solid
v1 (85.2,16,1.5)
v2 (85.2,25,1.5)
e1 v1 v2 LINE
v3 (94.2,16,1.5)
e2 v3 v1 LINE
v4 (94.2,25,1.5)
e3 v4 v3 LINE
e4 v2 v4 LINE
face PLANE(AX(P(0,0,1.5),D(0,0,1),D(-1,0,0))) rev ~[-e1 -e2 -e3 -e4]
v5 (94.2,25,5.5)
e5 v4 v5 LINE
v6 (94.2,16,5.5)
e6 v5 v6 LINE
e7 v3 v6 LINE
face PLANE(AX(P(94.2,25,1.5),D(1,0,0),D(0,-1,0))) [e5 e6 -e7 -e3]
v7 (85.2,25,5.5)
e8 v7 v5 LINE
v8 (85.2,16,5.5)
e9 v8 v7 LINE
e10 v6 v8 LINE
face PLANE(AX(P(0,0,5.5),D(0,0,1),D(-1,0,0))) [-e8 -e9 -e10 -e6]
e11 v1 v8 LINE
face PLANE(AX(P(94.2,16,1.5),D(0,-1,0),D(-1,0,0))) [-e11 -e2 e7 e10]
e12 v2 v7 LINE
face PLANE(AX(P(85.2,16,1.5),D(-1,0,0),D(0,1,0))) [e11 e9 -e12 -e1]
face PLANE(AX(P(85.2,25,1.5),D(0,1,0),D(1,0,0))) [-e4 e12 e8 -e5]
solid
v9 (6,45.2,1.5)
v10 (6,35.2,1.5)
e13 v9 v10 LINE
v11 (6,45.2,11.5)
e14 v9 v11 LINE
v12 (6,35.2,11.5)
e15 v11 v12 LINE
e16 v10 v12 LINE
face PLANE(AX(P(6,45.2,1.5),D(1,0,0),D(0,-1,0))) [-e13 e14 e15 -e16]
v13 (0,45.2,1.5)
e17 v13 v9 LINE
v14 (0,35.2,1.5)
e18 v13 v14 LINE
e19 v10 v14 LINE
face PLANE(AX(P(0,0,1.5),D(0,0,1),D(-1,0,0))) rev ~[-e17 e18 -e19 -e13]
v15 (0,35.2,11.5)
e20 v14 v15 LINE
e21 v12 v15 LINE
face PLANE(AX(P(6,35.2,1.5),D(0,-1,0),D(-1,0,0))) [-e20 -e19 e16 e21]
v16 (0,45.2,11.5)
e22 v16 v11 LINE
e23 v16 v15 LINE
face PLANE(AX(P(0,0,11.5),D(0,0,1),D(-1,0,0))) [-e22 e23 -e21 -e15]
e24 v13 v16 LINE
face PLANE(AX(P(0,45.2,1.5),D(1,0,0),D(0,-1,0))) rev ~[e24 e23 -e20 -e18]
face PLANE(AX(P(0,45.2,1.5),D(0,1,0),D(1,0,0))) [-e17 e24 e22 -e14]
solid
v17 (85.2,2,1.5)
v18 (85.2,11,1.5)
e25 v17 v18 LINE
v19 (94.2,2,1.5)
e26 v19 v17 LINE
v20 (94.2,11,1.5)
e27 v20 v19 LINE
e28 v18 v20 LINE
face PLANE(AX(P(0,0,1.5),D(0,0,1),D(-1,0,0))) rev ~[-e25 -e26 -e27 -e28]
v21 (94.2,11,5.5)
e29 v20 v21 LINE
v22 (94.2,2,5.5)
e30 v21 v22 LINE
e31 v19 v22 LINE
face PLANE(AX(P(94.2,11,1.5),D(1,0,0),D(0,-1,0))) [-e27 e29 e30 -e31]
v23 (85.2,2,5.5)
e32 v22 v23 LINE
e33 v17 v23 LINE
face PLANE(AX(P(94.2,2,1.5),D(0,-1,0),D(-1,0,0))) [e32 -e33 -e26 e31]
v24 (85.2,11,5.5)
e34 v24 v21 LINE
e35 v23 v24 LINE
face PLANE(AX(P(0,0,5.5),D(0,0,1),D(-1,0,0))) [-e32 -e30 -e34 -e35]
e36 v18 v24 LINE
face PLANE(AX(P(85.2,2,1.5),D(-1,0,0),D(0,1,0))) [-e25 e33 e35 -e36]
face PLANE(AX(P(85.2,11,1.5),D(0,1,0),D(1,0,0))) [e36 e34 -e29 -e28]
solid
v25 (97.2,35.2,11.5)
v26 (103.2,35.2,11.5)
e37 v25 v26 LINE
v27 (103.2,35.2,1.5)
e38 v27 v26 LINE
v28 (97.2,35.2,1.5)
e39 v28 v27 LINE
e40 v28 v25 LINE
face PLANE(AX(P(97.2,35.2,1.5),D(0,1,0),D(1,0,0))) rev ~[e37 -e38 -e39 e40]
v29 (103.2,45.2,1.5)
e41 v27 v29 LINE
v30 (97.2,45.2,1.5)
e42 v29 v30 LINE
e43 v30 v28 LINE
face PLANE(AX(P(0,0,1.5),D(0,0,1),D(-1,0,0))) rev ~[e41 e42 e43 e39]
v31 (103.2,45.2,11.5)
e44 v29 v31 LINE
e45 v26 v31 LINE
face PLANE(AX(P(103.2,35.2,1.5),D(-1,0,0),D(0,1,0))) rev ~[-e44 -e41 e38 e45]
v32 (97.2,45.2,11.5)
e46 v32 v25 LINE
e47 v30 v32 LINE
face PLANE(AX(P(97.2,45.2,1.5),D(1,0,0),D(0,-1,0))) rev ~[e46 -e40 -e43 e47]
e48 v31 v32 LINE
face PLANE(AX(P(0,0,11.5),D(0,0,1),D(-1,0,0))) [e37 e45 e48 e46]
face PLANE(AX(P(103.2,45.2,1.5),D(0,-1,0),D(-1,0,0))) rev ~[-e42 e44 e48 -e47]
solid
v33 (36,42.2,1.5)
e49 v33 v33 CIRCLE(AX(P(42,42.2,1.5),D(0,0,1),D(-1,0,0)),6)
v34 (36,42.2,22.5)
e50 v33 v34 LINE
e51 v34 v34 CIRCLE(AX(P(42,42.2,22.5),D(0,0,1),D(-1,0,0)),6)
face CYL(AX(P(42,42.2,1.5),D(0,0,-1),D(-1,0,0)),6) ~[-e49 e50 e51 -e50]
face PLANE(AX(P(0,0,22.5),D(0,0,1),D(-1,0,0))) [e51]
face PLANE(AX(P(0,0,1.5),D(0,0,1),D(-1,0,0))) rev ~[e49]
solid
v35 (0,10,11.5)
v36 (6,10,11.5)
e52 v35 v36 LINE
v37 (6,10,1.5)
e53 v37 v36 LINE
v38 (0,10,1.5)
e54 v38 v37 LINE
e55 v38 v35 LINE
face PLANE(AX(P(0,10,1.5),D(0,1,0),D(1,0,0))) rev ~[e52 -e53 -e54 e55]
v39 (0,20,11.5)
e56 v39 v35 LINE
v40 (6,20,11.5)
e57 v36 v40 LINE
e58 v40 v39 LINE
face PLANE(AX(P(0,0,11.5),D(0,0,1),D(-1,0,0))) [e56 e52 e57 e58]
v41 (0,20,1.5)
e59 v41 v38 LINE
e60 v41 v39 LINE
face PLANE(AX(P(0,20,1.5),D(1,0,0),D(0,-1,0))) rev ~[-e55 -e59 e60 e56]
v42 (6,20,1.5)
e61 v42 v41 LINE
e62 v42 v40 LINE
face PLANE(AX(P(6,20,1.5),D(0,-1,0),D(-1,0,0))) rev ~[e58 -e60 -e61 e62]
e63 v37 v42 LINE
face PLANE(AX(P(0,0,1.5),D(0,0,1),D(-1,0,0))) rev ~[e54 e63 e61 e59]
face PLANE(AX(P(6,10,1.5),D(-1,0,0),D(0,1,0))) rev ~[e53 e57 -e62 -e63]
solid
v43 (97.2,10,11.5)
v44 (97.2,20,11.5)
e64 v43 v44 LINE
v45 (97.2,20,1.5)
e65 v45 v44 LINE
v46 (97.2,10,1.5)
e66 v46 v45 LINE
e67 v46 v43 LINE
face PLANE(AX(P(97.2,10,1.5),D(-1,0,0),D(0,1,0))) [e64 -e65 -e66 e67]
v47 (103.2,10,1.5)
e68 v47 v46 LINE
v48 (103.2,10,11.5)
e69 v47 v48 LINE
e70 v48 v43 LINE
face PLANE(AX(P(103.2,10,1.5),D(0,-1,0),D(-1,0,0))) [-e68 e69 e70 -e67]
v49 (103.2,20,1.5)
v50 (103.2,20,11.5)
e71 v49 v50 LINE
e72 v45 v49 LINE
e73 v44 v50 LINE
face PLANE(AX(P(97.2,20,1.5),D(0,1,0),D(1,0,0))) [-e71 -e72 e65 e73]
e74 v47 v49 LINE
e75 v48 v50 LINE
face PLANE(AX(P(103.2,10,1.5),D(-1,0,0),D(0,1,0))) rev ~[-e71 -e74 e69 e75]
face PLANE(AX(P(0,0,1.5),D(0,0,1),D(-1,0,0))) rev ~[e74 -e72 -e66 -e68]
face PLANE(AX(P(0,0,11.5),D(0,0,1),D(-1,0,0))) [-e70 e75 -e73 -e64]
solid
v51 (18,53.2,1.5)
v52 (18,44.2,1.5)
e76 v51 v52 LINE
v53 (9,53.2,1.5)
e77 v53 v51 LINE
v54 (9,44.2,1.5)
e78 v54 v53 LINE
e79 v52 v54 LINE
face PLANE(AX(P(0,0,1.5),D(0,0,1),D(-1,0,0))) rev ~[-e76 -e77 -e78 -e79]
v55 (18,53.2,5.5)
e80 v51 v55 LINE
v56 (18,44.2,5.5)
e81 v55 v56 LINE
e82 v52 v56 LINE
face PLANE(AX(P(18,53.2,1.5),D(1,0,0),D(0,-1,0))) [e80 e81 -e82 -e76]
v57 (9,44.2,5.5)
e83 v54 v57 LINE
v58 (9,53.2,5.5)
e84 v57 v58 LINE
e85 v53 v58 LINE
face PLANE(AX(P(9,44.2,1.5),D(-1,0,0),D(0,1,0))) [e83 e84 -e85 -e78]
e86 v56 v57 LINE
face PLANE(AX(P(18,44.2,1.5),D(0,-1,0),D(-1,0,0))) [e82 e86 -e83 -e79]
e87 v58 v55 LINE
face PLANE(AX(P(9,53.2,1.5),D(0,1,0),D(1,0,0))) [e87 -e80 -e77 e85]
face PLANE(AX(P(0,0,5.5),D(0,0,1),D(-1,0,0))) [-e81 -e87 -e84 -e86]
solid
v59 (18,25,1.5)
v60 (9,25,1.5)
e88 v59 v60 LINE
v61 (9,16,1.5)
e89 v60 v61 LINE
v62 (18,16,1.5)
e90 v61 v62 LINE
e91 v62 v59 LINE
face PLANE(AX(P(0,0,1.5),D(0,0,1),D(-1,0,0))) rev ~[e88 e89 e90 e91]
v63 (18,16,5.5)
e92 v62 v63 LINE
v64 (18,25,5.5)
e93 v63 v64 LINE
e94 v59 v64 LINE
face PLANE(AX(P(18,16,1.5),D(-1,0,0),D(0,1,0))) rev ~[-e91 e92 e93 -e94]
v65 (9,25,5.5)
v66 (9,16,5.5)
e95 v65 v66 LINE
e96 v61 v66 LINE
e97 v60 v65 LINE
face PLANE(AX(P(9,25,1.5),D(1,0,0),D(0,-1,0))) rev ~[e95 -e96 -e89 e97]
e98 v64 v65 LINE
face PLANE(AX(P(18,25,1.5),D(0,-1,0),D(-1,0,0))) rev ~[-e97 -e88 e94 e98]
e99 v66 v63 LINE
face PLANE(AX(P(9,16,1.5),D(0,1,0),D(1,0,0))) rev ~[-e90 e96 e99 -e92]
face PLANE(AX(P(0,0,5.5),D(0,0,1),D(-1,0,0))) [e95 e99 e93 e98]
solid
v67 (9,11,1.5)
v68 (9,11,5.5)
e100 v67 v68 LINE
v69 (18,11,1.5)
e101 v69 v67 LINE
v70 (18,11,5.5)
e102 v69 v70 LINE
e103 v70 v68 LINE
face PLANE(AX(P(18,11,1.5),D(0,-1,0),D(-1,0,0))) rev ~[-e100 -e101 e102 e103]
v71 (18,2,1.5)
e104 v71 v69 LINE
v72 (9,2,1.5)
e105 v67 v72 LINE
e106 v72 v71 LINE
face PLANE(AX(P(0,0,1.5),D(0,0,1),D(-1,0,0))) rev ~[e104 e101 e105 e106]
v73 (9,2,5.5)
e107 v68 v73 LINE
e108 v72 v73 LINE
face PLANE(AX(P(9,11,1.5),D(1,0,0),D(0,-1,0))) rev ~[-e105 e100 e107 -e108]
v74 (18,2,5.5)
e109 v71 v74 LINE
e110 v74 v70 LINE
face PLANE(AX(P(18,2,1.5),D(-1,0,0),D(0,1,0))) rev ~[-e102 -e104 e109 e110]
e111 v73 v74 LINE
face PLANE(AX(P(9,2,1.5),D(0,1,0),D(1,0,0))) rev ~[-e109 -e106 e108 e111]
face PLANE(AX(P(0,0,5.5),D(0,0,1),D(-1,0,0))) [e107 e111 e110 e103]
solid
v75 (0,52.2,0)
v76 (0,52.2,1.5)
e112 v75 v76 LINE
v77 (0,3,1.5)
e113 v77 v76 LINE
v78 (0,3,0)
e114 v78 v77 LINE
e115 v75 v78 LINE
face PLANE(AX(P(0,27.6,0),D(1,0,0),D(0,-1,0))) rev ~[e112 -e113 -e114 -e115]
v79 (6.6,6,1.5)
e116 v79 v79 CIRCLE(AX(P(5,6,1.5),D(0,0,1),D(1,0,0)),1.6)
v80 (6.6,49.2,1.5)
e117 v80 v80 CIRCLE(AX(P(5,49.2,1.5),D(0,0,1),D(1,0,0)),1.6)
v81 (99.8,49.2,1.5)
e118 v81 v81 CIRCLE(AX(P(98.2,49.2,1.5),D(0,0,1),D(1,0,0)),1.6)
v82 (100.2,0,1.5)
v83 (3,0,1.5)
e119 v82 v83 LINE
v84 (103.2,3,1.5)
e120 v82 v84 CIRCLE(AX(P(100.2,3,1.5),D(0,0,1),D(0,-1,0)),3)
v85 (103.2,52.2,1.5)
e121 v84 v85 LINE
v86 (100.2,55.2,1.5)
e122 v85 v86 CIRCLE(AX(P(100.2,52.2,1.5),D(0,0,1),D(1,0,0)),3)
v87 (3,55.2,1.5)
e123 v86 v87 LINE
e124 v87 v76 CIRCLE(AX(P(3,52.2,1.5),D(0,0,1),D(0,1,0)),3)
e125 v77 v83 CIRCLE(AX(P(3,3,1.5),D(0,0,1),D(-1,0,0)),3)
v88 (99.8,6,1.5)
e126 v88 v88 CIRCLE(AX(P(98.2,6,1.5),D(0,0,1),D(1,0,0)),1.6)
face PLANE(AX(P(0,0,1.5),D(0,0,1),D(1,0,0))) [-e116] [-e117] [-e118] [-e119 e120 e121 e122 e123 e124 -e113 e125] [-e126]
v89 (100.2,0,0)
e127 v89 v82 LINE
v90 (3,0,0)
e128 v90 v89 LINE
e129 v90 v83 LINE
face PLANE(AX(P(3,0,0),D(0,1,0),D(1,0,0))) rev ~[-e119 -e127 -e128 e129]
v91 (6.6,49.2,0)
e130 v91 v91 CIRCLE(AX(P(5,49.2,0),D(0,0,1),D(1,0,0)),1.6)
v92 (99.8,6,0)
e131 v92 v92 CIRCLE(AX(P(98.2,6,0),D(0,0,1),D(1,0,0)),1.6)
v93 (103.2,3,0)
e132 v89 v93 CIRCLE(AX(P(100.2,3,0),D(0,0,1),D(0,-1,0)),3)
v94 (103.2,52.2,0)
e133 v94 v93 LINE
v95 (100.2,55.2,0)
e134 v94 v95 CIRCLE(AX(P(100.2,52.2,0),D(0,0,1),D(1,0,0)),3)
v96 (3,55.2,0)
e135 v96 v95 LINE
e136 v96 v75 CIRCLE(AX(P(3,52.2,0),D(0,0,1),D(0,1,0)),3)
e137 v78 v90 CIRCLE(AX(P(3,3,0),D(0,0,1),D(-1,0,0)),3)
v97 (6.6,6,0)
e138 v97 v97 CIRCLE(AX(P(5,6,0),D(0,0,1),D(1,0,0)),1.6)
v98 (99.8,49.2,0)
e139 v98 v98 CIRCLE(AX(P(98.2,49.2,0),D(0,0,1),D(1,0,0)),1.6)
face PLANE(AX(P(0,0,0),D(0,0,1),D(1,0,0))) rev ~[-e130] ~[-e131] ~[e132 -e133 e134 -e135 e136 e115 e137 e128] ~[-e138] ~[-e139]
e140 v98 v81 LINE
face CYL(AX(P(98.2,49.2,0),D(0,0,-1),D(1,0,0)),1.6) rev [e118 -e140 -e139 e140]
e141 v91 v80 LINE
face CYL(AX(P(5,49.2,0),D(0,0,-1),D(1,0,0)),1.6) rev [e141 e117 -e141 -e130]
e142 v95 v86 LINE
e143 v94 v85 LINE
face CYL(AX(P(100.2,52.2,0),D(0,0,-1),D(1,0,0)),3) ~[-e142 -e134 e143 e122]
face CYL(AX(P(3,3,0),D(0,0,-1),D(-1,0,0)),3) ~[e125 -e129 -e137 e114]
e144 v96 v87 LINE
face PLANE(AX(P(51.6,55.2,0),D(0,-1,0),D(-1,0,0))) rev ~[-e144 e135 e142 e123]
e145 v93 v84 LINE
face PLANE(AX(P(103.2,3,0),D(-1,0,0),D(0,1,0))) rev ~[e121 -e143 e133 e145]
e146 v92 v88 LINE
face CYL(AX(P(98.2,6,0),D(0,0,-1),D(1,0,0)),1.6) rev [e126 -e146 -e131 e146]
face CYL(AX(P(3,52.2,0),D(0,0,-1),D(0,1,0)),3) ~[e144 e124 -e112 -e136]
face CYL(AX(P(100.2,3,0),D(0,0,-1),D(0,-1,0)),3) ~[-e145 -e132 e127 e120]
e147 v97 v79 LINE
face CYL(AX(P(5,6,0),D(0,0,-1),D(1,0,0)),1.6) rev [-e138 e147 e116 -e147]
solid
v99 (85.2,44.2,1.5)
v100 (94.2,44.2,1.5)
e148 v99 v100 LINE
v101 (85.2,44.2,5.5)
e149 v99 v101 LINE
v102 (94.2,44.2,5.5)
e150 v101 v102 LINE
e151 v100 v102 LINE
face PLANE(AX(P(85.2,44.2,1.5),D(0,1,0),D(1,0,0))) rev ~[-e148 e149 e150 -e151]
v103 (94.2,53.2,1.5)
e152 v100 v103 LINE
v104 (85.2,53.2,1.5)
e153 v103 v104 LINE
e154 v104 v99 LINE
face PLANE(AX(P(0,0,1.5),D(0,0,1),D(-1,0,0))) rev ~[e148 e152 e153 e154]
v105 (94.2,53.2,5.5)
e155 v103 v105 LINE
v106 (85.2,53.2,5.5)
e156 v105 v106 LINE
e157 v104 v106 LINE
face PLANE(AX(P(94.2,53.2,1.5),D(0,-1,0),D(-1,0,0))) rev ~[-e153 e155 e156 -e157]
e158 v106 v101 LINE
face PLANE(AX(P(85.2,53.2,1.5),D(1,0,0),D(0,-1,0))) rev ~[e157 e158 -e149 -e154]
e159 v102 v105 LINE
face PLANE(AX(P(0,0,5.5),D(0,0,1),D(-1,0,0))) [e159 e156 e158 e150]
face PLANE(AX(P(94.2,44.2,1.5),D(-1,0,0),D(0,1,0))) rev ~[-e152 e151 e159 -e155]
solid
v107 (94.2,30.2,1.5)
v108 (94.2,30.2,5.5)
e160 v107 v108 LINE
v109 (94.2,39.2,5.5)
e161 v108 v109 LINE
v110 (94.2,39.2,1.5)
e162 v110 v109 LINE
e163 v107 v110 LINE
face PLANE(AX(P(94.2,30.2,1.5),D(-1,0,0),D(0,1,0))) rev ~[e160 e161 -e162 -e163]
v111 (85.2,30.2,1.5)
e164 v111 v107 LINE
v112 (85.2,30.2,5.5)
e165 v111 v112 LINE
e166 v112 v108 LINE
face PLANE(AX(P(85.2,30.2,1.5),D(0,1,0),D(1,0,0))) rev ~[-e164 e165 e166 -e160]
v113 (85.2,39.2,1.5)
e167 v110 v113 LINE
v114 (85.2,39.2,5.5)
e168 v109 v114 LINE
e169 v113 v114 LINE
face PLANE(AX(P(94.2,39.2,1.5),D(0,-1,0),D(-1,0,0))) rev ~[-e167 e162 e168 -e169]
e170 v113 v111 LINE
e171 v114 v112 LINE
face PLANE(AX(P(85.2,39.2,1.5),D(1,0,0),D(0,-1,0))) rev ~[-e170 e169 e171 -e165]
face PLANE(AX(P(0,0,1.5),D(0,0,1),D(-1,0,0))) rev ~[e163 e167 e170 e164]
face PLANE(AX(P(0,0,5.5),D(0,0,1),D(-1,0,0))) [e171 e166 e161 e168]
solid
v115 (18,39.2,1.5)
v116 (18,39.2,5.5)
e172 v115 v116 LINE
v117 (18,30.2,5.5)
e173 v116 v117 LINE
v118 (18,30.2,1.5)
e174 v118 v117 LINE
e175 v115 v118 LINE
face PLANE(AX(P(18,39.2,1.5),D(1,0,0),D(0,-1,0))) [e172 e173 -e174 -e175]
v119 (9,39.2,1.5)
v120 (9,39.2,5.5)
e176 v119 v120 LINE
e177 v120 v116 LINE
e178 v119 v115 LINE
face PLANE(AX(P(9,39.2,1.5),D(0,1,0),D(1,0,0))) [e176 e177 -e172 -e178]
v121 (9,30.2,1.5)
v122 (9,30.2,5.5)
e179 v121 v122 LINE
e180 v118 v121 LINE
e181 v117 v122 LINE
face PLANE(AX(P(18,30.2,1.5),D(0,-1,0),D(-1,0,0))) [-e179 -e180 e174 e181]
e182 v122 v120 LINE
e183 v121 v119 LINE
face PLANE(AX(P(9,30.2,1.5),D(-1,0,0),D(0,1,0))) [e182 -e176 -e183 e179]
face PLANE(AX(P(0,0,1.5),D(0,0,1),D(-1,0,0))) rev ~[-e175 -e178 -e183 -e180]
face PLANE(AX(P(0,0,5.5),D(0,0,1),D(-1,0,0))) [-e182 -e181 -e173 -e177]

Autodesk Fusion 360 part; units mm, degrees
sketch "草图1" plane through (0, 0, 0) normal (0, 0, 1) x (1, 0, 0)
  line L0 (3, 0) -> (100.2, 0)
  line L1 (103.2, 3) -> (103.2, 52.2)
  line L2 (100.2, 55.2) -> (3, 55.2)
  line L3 (0, 52.2) -> (0, 3)
  line L4 (-10, 27.6) -> (117.08, 27.6)
  line L5 (51.6, 65) -> (51.6, -15)
  circle A0 centre (5, 49.2) radius 1.6
  circle A1 centre (98.2, 49.2) radius 1.6
  circle A2 centre (5, 6) radius 1.6
  circle A3 centre (98.2, 6) radius 1.6
  arc A4 (3, 55.2) -> (0, 52.2) centre (3, 52.2) ccw
  arc A5 (103.2, 52.2) -> (100.2, 55.2) centre (100.2, 52.2) ccw
  arc A6 (100.2, 0) -> (103.2, 3) centre (100.2, 3) ccw
  arc A7 (0, 3) -> (3, 0) centre (3, 3) ccw
  point P0 (103.2, 0)
  point P1 (0, 55.2)
  dimension "d1" = 103.2
  dimension "d2" = 55.2
  dimension "d3" = 3.2
  dimension "d4" = 93.2
  dimension "d5" = 43.2
  dimension "d6" = 3
extrude "拉伸1" add sketch "草图1" along normal blind 1.5 makes body 1
sketch "草图2" plane through (0, 0, 1.5) normal (0, 0, 1) x (-1, 0, 0)
  circle A0 centre (-98.2, -6) radius 1.6
  circle A1 centre (-5, -49.2) radius 1.6
  circle A2 centre (-5, -6) radius 1.6
  circle A3 centre (-98.2, -49.2) radius 1.6
  arc A4 (0, -3) -> (-3, 0) centre (-3, -3) ccw
  line L0 (-3, 0) -> (-100.2, 0)
  arc A5 (-100.2, 0) -> (-103.2, -3) centre (-100.2, -3) ccw
  line L1 (-103.2, -3) -> (-103.2, -52.2)
  arc A6 (-103.2, -52.2) -> (-100.2, -55.2) centre (-100.2, -52.2) ccw
  line L2 (-100.2, -55.2) -> (-3, -55.2)
  arc A7 (-3, -55.2) -> (0, -52.2) centre (-3, -52.2) ccw
  line L3 (0, -52.2) -> (0, -3)
  line L4 (11.7384, -27.6) -> (-122.0621, -27.6)
  line L5 (-51.6, -62.4053) -> (-51.6, 35)
  line L6 (0, -45.2) -> (-6, -45.2)
  line L7 (-6, -45.2) -> (-6, -35.2)
  line L8 (-6, -35.2) -> (0, -35.2)
  line L9 (0, -35.2) -> (0, -45.2)
  line L10 (-97.2, -35.2) -> (-103.2, -35.2)
  line L11 (-103.2, -35.2) -> (-103.2, -45.2)
  line L12 (-103.2, -45.2) -> (-97.2, -45.2)
  line L13 (-97.2, -45.2) -> (-97.2, -35.2)
  line L14 (0, -10) -> (-6, -10)
  line L15 (-6, -10) -> (-6, -20)
  line L16 (0, -20) -> (0, -10)
  line L17 (-6, -20) -> (0, -20)
  line L18 (-97.2, -20) -> (-103.2, -20)
  line L19 (-103.2, -10) -> (-97.2, -10)
  line L20 (-97.2, -10) -> (-97.2, -20)
  line L21 (-103.2, -20) -> (-103.2, -10)
  dimension "d9" = 10
  dimension "d10" = 6
  dimension "d11" = 10
extrude "拉伸2" add sketch "草图2" along normal blind 10 separate body contours L3 L14 L15 L16 L17 | L3 L6 L7 L8 L9 | L1 L18 L19 L20 L21 | L1 L10 L11 L12 L13 makes body 2 at (0, 16.6667, 4.8333) makes body 3 at (97.2, 41.8667, 4.8333) makes body 4 at (0, 41.8667, 4.8333) makes body 5 at (97.2, 13.3333, 4.8333)
sketch "草图3" plane through (0, 0, 1.5) normal (0, 0, 1) x (-1, 0, 0)
  circle A0 centre (-98.2, -6) radius 1.6
  circle A1 centre (-5, -49.2) radius 1.6
  circle A2 centre (-5, -6) radius 1.6
  circle A3 centre (-98.2, -49.2) radius 1.6
  arc A4 (0, -3) -> (-3, 0) centre (-3, -3) ccw
  line L0 (-3, 0) -> (-100.2, 0)
  arc A5 (-100.2, 0) -> (-103.2, -3) centre (-100.2, -3) ccw
  line L1 (-103.2, -3) -> (-103.2, -52.2)
  arc A6 (-103.2, -52.2) -> (-100.2, -55.2) centre (-100.2, -52.2) ccw
  line L2 (-100.2, -55.2) -> (-3, -55.2)
  arc A7 (-3, -55.2) -> (0, -52.2) centre (-3, -52.2) ccw
  line L3 (0, -52.2) -> (0, -3)
  line L4 (8.1327, -27.6) -> (-117.8159, -27.6)
  line L5 (-51.6, -63.777) -> (-51.6, 13.1538)
  line L6 (-9, -53.2) -> (-18, -53.2)
  line L7 (-18, -53.2) -> (-18, -44.2)
  line L8 (-18, -44.2) -> (-9, -44.2)
  line L9 (-9, -44.2) -> (-9, -53.2)
  line L10 (-9, -39.2) -> (-18, -39.2)
  line L11 (-18, -39.2) -> (-18, -30.2)
  line L12 (-18, -30.2) -> (-9, -30.2)
  line L13 (-9, -30.2) -> (-9, -39.2)
  line L14 (-18, -11) -> (-9, -11)
  line L15 (-9, -2) -> (-18, -2)
  line L16 (-9, -11) -> (-9, -2)
  line L17 (-18, -2) -> (-18, -11)
  line L18 (-9, -16) -> (-18, -16)
  line L19 (-9, -25) -> (-9, -16)
  line L20 (-18, -16) -> (-18, -25)
  line L21 (-18, -25) -> (-9, -25)
  line L22 (-94.2, -53.2) -> (-85.2, -53.2)
  line L23 (-94.2, -44.2) -> (-94.2, -53.2)
  line L24 (-85.2, -53.2) -> (-85.2, -44.2)
  line L25 (-85.2, -44.2) -> (-94.2, -44.2)
  line L26 (-94.2, -39.2) -> (-85.2, -39.2)
  line L27 (-94.2, -30.2) -> (-94.2, -39.2)
  line L28 (-85.2, -39.2) -> (-85.2, -30.2)
  line L29 (-85.2, -30.2) -> (-94.2, -30.2)
  line L30 (-85.2, -25) -> (-94.2, -25)
  line L31 (-94.2, -25) -> (-94.2, -16)
  line L32 (-85.2, -16) -> (-85.2, -25)
  line L33 (-94.2, -16) -> (-85.2, -16)
  line L34 (-85.2, -11) -> (-94.2, -11)
  line L35 (-94.2, -11) -> (-94.2, -2)
  line L36 (-85.2, -2) -> (-85.2, -11)
  line L37 (-94.2, -2) -> (-85.2, -2)
  dimension "d14" = 9
  dimension "d15" = 9
  dimension "d16" = 9
  dimension "d17" = 9
  dimension "d18" = 2
  dimension "d19" = 16
  dimension "d20" = 9
  dimension "d21" = 9
extrude "拉伸3" add sketch "草图3" along normal blind 4 separate body contours L6 L7 L8 L9 | L10 L11 L12 L13 | L14 L15 L16 L17 | L18 L19 L20 L21 | L22 L23 L24 L25 | L26 L27 L28 L29 | L30 L31 L32 L33 | L34 L35 L36 L37 makes body 6 at (88.2, 33.2, 1.5) makes body 7 at (12, 36.2, 1.5) makes body 8 at (15, 22, 1.5) makes body 9 at (91.2, 19, 1.5) makes body 10 at (88.2, 47.2, 1.5) makes body 11 at (15, 50.2, 1.5) makes body 12 at (12, 8, 1.5) makes body 13 at (88.2, 8, 1.5)
sketch "草图4" plane through (0, 0, 1.5) normal (0, 0, 1) x (-1, 0, 0)
  circle A0 centre (-98.2, -6) radius 1.6
  circle A1 centre (-5, -49.2) radius 1.6
  circle A2 centre (-5, -6) radius 1.6
  circle A3 centre (-98.2, -49.2) radius 1.6
  arc A4 (0, -3) -> (-3, 0) centre (-3, -3) ccw
  line L0 (-3, 0) -> (-100.2, 0)
  arc A5 (-100.2, 0) -> (-103.2, -3) centre (-100.2, -3) ccw
  line L1 (-103.2, -3) -> (-103.2, -52.2)
  arc A6 (-103.2, -52.2) -> (-100.2, -55.2) centre (-100.2, -52.2) ccw
  line L2 (-100.2, -55.2) -> (-3, -55.2)
  arc A7 (-3, -55.2) -> (0, -52.2) centre (-3, -52.2) ccw
  line L3 (0, -52.2) -> (0, -3)
  circle A8 centre (-42, -42.2) radius 6
  dimension "d24" = 42
  dimension "d25" = 13
  dimension "d26" = 12
extrude "拉伸4" add sketch "草图4" along normal blind 21 separate body contours A8 makes body 14
sketch "草图5" plane through (0, 0, 1.5) normal (0, 0, 1) x (-1, 0, 0)
  circle A0 centre (-98.2, -6) radius 1.6
  circle A1 centre (-5, -49.2) radius 1.6
  circle A2 centre (-5, -6) radius 1.6
  circle A3 centre (-98.2, -49.2) radius 1.6
  arc A4 (0, -3) -> (-3, 0) centre (-3, -3) ccw
  line L0 (-3, 0) -> (-100.2, 0)
  arc A5 (-100.2, 0) -> (-103.2, -3) centre (-100.2, -3) ccw
  line L1 (-103.2, -3) -> (-103.2, -52.2)
  arc A6 (-103.2, -52.2) -> (-100.2, -55.2) centre (-100.2, -52.2) ccw
  line L2 (-100.2, -55.2) -> (-3, -55.2)
  arc A7 (-3, -55.2) -> (0, -52.2) centre (-3, -52.2) ccw
  line L3 (0, -52.2) -> (0, -3)
sketch "草图6" plane through (0, 0, 1.5) normal (0, 0, 1) x (1, 0, 0)
copy_body "实体->零部件1" bodies 1 removing the originals makes body 15 in component "Component'"
copy_body "实体->零部件2" bodies 2 removing the originals makes body 16 in component "Component''"
copy_body "实体->零部件3" bodies 3 removing the originals makes body 17 in component "Component'''"
copy_body "实体->零部件4" bodies 4 removing the originals makes body 18 in component "Component''''"
copy_body "实体->零部件5" bodies 5 removing the originals makes body 19 in component "Component'''''"
copy_body "实体->零部件6" bodies 6 removing the originals makes body 20 in component "Component''''''"
copy_body "实体->零部件7" bodies 7 removing the originals makes body 21 in component "Component'''''''"
copy_body "实体->零部件8" bodies 8 removing the originals makes body 22 in component "Component''''''''"
copy_body "实体->零部件9" bodies 9 removing the originals makes body 23 in component "Component'''''''''"
copy_body "实体->零部件10" bodies 10 removing the originals makes body 24 in component "Component''''''''''"
copy_body "实体->零部件11" bodies 11 removing the originals makes body 25 in component "Component'''''''''''"
copy_body "实体->零部件12" bodies 12 removing the originals makes body 26 in component "Component''''''''''''"
copy_body "实体->零部件13" bodies 13 removing the originals makes body 27 in component "Component'''''''''''''"
copy_body "实体->零部件14" bodies 14 removing the originals makes body 28 in component "Component''''''''''''''"
component "Component'" placed x (1, 0, 0) y (0, 1, 0) z (0, 0, 1) at (0, 0, 0)
component "Component''" placed x (1, 0, 0) y (0, 1, 0) z (0, 0, 1) at (0, 0, 0)
component "Component'''" placed x (1, 0, 0) y (0, 1, 0) z (0, 0, 1) at (0, 0, 0)
component "Component''''" placed x (1, 0, 0) y (0, 1, 0) z (0, 0, 1) at (0, 0, 0)
component "Component'''''" placed x (1, 0, 0) y (0, 1, 0) z (0, 0, 1) at (0, 0, 0)
component "Component''''''" placed x (1, 0, 0) y (0, 1, 0) z (0, 0, 1) at (0, 0, 0)
component "Component'''''''" placed x (1, 0, 0) y (0, 1, 0) z (0, 0, 1) at (0, 0, 0)
component "Component''''''''" placed x (1, 0, 0) y (0, 1, 0) z (0, 0, 1) at (0, 0, 0)
component "Component'''''''''" placed x (1, 0, 0) y (0, 1, 0) z (0, 0, 1) at (0, 0, 0)
component "Component''''''''''" placed x (1, 0, 0) y (0, 1, 0) z (0, 0, 1) at (0, 0, 0)
component "Component'''''''''''" placed x (1, 0, 0) y (0, 1, 0) z (0, 0, 1) at (0, 0, 0)
component "Component''''''''''''" placed x (1, 0, 0) y (0, 1, 0) z (0, 0, 1) at (0, 0, 0)
component "Component'''''''''''''" placed x (1, 0, 0) y (0, 1, 0) z (0, 0, 1) at (0, 0, 0)
component "Component''''''''''''''" placed x (1, 0, 0) y (0, 1, 0) z (0, 0, 1) at (0, 0, 0)
